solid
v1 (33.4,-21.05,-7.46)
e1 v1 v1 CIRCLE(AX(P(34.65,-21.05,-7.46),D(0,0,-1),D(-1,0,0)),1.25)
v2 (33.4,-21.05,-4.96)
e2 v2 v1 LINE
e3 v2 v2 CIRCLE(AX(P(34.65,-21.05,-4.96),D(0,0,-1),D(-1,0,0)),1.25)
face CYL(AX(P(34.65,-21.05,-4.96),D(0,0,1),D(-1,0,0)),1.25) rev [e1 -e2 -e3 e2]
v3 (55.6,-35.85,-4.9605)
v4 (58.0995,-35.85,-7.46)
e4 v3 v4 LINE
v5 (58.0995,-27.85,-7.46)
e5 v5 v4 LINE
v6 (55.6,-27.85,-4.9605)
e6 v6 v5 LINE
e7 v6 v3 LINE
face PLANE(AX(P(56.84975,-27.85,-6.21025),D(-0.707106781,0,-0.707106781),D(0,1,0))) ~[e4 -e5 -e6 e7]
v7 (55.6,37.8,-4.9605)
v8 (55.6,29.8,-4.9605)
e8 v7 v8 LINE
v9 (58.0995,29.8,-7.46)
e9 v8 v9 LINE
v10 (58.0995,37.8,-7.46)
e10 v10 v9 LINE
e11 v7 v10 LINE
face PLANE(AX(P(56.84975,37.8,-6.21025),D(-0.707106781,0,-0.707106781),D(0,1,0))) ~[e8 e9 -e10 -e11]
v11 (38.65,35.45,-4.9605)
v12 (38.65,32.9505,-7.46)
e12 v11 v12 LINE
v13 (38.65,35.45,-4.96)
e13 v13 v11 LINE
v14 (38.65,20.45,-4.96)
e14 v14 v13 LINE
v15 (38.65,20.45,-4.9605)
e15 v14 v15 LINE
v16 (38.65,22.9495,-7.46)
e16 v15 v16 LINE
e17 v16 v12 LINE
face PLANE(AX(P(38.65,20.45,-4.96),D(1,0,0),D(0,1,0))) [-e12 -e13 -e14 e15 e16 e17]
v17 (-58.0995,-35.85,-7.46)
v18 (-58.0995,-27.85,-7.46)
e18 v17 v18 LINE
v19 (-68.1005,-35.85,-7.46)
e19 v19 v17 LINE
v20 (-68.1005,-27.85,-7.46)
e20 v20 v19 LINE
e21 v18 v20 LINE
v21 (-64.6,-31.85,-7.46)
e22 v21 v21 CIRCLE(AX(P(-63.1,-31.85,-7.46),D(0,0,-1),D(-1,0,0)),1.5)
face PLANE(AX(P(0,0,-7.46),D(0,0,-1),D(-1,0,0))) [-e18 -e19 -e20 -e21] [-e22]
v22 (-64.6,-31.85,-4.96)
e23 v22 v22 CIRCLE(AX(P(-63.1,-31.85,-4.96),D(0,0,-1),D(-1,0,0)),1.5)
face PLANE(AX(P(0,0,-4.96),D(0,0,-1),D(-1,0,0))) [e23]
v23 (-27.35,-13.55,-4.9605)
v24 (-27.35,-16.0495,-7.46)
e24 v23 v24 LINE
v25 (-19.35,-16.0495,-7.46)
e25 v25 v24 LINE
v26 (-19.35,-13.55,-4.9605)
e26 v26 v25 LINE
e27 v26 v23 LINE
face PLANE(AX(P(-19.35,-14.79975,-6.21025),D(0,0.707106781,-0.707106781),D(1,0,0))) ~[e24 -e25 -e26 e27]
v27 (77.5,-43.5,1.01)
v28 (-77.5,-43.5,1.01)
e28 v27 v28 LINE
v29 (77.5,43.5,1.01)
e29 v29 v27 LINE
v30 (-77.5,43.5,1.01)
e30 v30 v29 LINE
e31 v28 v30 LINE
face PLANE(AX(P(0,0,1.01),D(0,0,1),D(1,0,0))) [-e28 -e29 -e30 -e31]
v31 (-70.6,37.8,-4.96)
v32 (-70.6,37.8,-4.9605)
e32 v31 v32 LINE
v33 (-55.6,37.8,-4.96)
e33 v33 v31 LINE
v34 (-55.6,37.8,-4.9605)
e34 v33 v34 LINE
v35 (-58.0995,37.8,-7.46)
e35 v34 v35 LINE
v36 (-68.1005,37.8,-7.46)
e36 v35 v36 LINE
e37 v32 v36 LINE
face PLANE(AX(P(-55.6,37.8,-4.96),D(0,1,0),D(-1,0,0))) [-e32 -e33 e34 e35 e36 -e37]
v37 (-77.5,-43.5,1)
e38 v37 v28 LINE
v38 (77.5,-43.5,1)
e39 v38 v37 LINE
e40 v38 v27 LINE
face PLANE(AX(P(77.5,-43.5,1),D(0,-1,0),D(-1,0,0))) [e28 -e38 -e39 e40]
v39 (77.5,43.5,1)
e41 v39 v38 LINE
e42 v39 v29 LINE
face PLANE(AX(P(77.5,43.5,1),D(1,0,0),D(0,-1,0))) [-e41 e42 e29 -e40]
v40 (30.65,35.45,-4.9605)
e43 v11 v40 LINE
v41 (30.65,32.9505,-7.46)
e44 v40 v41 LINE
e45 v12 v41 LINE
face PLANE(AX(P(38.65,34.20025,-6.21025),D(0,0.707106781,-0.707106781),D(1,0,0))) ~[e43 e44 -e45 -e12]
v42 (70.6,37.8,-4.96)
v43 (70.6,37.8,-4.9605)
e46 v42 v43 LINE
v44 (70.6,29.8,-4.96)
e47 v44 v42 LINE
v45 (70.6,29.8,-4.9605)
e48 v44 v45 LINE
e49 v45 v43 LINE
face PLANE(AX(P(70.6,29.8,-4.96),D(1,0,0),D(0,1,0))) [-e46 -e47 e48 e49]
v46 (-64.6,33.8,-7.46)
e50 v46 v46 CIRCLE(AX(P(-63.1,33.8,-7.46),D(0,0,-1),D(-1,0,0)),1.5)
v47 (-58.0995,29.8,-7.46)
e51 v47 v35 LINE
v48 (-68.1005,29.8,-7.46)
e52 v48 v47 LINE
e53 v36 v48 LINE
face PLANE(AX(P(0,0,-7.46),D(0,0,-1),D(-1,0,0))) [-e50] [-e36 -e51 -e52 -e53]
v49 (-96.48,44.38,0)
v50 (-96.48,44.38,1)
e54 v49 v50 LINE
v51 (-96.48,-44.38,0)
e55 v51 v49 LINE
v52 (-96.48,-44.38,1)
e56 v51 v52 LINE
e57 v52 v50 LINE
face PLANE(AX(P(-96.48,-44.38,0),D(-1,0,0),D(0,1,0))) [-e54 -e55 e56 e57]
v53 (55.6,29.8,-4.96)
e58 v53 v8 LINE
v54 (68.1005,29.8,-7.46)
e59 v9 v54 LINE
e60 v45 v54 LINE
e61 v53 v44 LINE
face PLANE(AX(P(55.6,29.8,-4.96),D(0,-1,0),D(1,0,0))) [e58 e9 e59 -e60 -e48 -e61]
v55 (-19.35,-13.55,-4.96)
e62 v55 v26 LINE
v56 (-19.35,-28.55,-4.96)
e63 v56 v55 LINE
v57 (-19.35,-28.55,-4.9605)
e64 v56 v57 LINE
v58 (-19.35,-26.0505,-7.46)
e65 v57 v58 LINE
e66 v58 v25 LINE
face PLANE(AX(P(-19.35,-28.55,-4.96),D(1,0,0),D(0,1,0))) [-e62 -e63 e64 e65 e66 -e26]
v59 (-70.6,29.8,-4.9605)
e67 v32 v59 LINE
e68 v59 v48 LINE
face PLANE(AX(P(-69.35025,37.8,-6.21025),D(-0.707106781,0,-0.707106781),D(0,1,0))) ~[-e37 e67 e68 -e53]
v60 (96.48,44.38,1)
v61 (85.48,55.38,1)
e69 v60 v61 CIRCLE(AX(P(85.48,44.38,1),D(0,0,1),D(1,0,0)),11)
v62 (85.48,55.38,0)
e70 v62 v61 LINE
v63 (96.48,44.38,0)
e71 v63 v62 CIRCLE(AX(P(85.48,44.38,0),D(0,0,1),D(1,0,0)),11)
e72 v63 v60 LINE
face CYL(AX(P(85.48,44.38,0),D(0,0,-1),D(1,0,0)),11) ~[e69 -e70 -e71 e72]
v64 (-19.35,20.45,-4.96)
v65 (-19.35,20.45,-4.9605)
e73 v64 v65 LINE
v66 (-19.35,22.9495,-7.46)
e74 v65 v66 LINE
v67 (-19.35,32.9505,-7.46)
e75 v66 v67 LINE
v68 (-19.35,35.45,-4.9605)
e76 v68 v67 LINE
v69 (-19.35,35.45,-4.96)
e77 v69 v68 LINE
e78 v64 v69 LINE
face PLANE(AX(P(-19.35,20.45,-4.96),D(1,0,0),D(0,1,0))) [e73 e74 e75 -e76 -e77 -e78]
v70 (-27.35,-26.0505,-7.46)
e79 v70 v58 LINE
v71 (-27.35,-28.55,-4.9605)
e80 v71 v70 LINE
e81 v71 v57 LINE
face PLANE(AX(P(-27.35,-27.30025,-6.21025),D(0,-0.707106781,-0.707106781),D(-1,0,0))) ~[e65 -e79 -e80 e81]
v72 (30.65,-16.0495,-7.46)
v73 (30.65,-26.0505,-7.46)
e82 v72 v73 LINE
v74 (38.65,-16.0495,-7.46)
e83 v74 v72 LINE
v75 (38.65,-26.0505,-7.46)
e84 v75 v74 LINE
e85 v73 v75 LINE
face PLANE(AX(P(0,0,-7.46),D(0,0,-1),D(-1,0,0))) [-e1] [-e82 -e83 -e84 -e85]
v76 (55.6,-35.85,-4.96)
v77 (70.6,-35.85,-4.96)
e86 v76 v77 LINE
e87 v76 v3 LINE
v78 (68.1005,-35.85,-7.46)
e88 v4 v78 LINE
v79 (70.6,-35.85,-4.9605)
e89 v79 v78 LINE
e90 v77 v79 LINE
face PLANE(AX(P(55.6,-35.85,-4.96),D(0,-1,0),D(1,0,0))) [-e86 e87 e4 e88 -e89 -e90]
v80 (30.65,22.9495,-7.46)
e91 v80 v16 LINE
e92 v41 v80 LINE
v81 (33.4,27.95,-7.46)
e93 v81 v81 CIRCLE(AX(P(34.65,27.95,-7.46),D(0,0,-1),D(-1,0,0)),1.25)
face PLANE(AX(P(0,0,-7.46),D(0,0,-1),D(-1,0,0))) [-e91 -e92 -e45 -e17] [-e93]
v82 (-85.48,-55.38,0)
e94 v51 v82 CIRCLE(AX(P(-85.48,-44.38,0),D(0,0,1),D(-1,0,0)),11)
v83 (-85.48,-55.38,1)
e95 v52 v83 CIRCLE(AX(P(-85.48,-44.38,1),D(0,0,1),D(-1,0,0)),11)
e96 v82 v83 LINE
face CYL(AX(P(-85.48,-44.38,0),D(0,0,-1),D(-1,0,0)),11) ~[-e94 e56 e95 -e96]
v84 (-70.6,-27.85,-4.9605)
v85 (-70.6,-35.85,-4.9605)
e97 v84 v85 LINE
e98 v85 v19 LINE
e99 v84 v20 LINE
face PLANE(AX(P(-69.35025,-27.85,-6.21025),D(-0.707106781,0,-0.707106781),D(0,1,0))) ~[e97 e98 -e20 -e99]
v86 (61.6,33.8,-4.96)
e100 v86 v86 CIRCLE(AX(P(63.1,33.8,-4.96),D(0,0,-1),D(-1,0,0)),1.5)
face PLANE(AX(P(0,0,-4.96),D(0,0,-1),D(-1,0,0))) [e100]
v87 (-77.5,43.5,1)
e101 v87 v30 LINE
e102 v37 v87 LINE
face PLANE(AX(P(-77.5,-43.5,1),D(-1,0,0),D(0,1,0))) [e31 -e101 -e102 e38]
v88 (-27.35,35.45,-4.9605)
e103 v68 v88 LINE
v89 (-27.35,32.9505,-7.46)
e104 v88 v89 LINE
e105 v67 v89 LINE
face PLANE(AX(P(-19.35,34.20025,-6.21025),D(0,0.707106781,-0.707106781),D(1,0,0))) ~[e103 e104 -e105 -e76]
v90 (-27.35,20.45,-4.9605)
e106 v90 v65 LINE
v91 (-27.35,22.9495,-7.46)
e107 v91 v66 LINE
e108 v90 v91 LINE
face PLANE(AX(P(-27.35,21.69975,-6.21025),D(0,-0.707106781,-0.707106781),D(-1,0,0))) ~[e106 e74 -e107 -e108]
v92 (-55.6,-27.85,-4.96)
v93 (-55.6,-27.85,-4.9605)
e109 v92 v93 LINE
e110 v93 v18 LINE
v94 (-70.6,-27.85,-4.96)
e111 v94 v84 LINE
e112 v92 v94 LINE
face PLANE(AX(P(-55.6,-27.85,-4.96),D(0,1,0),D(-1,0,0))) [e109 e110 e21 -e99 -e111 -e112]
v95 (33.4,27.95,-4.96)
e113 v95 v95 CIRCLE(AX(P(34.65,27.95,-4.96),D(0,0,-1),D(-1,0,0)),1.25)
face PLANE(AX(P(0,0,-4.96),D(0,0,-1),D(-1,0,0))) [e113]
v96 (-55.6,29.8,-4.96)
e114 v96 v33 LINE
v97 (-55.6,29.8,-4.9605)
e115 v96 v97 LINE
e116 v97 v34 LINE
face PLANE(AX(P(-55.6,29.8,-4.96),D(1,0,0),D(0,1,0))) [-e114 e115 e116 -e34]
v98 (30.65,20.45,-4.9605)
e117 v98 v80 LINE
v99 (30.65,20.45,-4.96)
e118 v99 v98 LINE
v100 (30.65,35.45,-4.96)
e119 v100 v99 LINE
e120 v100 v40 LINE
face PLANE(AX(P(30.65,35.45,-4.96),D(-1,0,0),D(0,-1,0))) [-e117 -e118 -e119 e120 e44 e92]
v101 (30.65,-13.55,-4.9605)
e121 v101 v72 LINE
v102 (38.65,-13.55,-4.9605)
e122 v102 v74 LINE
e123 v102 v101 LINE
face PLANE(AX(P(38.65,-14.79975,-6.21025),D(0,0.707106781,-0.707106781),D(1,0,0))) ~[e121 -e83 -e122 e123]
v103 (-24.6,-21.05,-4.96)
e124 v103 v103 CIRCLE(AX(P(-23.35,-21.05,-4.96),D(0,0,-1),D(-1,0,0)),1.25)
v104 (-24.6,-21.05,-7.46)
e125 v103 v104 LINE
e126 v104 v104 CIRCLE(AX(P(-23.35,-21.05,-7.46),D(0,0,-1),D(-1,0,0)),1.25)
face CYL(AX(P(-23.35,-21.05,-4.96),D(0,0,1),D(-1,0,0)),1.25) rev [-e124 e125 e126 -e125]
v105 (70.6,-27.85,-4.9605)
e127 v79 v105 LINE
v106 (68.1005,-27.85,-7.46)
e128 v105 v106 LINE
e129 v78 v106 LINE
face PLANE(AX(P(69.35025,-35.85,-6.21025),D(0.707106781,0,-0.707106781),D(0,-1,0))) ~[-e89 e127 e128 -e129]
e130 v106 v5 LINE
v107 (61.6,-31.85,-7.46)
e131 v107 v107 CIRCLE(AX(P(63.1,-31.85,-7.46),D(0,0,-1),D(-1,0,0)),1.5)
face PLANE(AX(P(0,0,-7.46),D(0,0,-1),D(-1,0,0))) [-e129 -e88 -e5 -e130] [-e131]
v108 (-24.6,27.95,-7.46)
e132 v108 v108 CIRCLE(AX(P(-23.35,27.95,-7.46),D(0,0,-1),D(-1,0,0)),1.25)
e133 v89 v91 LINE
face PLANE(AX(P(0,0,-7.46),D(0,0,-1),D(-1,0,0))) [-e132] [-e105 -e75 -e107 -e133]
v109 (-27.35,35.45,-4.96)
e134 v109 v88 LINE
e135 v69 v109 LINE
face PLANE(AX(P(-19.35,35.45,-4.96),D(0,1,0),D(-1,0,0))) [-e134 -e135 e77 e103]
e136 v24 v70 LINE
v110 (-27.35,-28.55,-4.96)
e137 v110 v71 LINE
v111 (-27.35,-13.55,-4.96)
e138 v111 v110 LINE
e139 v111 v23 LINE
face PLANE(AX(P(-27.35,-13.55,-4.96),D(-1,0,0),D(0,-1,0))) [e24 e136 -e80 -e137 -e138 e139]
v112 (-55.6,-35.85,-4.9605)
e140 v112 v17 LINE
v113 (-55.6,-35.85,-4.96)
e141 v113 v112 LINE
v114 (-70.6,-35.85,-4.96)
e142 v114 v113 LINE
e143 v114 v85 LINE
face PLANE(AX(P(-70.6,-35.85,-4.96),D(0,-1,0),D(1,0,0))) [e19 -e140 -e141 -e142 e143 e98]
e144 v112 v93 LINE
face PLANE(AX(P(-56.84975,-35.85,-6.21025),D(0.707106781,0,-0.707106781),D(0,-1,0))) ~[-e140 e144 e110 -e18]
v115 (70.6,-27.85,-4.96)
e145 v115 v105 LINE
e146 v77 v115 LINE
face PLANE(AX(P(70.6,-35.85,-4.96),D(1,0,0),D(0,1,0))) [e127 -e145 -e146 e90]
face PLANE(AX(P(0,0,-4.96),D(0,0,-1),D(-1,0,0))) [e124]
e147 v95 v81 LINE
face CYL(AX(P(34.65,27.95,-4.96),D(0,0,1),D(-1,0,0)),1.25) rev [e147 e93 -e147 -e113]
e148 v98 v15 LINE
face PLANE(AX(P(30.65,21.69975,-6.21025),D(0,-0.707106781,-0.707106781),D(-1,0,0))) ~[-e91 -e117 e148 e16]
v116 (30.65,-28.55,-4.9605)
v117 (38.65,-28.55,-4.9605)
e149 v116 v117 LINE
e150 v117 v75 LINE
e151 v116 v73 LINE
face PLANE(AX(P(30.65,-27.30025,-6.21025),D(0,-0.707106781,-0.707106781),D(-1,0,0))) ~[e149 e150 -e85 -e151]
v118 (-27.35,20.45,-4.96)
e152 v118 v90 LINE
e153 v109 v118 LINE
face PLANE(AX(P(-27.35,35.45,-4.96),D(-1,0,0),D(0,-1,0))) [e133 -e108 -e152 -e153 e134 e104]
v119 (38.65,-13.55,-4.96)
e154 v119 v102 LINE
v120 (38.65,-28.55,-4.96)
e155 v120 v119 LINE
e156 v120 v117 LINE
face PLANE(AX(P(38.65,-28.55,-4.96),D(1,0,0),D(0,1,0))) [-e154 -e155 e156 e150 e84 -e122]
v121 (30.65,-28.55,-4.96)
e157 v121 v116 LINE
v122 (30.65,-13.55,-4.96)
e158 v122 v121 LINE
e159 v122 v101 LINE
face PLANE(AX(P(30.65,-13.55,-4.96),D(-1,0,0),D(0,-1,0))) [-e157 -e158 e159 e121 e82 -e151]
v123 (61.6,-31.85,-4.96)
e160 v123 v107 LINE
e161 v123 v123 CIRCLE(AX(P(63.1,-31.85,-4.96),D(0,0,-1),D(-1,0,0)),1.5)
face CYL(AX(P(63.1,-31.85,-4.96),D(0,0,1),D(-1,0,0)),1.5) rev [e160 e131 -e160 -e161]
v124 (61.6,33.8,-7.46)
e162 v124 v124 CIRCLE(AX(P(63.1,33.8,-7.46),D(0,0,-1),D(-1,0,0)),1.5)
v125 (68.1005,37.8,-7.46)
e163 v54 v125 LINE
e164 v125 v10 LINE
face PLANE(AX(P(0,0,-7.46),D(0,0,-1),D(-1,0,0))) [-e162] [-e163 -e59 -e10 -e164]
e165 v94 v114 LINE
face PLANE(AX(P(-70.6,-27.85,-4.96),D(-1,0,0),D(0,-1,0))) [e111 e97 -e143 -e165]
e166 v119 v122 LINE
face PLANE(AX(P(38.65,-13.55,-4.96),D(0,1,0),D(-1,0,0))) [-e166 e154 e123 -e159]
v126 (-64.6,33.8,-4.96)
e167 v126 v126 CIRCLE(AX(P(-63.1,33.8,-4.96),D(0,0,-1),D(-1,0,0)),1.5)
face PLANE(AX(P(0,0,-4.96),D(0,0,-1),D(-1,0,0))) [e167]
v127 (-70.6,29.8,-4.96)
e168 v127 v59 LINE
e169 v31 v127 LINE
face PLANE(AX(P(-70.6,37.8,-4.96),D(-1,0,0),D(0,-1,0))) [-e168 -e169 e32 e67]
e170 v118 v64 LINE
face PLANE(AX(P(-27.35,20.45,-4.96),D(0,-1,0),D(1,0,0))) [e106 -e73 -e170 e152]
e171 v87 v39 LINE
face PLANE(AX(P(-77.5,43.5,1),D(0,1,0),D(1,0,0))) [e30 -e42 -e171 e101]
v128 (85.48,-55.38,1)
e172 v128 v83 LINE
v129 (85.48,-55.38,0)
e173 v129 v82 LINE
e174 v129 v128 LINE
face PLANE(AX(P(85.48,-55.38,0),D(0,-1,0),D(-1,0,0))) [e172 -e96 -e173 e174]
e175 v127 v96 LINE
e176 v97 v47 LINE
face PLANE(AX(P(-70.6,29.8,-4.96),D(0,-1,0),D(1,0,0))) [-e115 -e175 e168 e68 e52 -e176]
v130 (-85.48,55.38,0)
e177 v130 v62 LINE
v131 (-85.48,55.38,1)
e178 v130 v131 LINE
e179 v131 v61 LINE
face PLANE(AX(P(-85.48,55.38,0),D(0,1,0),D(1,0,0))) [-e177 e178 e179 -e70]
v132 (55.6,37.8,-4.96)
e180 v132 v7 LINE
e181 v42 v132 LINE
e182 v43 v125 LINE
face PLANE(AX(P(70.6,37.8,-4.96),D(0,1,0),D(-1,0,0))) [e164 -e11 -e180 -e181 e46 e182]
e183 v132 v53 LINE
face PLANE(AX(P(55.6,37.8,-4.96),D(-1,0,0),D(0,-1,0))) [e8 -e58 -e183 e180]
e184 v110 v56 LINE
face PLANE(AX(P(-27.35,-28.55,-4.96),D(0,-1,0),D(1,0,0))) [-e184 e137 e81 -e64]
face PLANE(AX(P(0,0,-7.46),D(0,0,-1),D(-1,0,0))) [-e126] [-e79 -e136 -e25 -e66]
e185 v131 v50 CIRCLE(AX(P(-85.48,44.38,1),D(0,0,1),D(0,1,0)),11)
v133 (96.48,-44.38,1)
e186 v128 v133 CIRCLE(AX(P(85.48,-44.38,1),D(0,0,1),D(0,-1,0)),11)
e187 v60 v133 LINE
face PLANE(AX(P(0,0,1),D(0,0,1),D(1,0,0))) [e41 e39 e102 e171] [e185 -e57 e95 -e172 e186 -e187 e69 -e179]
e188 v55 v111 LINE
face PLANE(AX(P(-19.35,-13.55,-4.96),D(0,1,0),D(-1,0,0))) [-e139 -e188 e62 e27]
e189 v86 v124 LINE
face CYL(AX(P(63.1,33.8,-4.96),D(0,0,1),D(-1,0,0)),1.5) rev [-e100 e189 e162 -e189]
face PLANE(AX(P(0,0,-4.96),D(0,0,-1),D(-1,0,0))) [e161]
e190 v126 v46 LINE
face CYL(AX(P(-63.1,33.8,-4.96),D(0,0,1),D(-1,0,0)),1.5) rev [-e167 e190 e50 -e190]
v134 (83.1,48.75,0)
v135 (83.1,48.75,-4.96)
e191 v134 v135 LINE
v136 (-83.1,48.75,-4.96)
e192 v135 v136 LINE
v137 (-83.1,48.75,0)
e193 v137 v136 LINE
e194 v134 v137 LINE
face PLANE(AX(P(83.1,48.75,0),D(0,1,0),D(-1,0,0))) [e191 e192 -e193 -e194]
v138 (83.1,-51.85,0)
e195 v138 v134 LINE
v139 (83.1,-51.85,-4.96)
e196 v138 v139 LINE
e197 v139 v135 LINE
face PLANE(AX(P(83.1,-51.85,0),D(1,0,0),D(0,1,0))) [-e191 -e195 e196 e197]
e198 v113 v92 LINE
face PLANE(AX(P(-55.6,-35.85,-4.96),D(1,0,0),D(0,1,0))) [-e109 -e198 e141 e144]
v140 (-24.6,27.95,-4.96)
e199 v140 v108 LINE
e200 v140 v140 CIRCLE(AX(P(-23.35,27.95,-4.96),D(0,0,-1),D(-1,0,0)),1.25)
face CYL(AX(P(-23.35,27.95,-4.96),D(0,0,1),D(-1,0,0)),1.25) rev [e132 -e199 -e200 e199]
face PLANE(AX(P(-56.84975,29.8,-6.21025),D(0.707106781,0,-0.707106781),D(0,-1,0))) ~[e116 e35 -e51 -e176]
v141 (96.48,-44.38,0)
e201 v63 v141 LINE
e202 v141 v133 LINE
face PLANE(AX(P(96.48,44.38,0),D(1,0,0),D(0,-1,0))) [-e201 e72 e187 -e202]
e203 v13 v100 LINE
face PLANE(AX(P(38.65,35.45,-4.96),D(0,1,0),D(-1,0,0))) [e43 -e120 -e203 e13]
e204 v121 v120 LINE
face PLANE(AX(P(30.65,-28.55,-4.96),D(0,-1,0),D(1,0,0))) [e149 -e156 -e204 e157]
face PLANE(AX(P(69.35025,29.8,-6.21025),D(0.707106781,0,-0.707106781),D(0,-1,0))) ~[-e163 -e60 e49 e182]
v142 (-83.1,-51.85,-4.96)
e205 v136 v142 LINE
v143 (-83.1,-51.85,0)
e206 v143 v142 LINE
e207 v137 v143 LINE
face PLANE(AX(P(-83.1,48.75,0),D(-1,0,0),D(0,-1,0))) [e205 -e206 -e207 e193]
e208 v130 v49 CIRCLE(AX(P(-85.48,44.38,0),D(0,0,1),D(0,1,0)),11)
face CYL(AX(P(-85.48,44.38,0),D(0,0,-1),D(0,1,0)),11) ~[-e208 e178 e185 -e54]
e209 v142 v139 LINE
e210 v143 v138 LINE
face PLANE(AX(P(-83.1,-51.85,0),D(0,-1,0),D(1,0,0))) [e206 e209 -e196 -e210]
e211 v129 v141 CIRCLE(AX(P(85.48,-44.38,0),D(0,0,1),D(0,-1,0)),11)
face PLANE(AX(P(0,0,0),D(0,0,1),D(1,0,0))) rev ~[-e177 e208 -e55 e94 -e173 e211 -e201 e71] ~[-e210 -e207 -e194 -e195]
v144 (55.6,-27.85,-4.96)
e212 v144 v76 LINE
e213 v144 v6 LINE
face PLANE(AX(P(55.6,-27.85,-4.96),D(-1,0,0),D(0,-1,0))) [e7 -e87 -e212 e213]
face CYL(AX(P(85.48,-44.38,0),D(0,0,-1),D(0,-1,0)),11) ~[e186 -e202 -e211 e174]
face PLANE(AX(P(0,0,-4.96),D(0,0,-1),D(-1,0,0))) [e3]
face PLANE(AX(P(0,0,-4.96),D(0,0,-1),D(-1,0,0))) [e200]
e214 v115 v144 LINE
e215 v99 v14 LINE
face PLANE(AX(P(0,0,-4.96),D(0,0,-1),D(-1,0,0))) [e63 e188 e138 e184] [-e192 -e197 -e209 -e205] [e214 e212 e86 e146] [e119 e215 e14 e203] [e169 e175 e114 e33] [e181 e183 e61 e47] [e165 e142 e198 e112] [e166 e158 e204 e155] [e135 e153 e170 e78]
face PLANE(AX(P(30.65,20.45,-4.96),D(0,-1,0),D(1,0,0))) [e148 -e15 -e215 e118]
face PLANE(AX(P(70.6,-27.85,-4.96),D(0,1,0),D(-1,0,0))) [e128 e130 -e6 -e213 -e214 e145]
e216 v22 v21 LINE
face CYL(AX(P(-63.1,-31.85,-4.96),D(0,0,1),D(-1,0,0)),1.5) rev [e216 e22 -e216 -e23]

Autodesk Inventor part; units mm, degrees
ref_plane "YZ Plane" through (0, 0, 0) normal (1, 0, 0) x (0, 1, 0)
ref_plane "XZ Plane" through (0, 0, 0) normal (0, 1, 0) x (-1, 0, 0)
ref_plane "XY Plane" through (0, 0, 0) normal (0, 0, 1) x (1, 0, 0)
sketch "Sketch1" plane through (0, 0, 0) normal (0, 0, 1) x (1, 0, 0)
  line L0 (-85.48, 55.38) -> (85.48, 55.38)
  line L1 (96.48, 44.38) -> (96.48, -44.38)
  line L2 (85.48, -55.38) -> (-85.48, -55.38)
  line L3 (-96.48, -44.38) -> (-96.48, 44.38)
  arc A0 (-85.48, 55.38) -> (-96.48, 44.38) centre (-85.48, 44.38) ccw
  arc A1 (96.48, 44.38) -> (85.48, 55.38) centre (85.48, 44.38) ccw
  arc A2 (85.48, -55.38) -> (96.48, -44.38) centre (85.48, -44.38) ccw
  arc A3 (-96.48, -44.38) -> (-85.48, -55.38) centre (-85.48, -44.38) ccw
  point P0 (0, 0)
  point P1 (-96.48, 55.38)
  point P2 (96.48, 55.38)
  point P3 (-96.48, -55.38)
  dimension "d0" = 192.96
  dimension "d1" = 110.76
  dimension "d2" = 96.48
  dimension "d3" = 55.38
  dimension "d6" = 11
extrude "Extrusion2" add sketch "Sketch1" along normal blind 1
sketch "Sketch3" plane through (0, 0, 0) normal (0, 0, -1) x (-1, 0, 0)
  line L0 (-83.1, 48.75) -> (83.1, 48.75)
  line L1 (83.1, 48.75) -> (83.1, -51.85)
  line L2 (83.1, -51.85) -> (-83.1, -51.85)
  line L3 (-83.1, -51.85) -> (-83.1, 48.75)
  line L4 (85.48, 55.38) -> (-85.48, 55.38) projected
  point P0 (0, 0)
  dimension "d9" = 166.2
  dimension "d10" = 100.6
  dimension "d12" = 83.1
  dimension "d13" = 6.63
extrude "Extrusion3" add sketch "Sketch3" along normal blind 4.96
sketch "Sketch4" plane through (0, 0, -4.96) normal (0, 0, -1) x (-1, 0, 0)
  line L0 (-70.6, 37.8) -> (-55.6, 37.8)
  line L1 (-55.6, 37.8) -> (-55.6, 29.8)
  line L2 (-55.6, 29.8) -> (-70.6, 29.8)
  line L3 (-70.6, 29.8) -> (-70.6, 37.8)
  circle A0 centre (-63.1, 33.8) radius 1.5
  line L4 (-83.1, 48.75) -> (-83.1, -51.85) projected
  line L5 (55.6, 37.8) -> (70.6, 37.8)
  circle A1 centre (63.1, 33.8) radius 1.5
  line L6 (55.6, 29.8) -> (55.6, 37.8)
  line L7 (70.6, 29.8) -> (55.6, 29.8)
  line L8 (70.6, 37.8) -> (70.6, 29.8)
  line L9 (-70.6, -27.85) -> (-55.6, -27.85)
  circle A2 centre (-63.1, -31.85) radius 1.5
  line L10 (-70.6, -35.85) -> (-70.6, -27.85)
  line L11 (-55.6, -35.85) -> (-70.6, -35.85)
  line L12 (-55.6, -27.85) -> (-55.6, -35.85)
  line L13 (55.6, -27.85) -> (70.6, -27.85)
  circle A3 centre (63.1, -31.85) radius 1.5
  line L14 (55.6, -35.85) -> (55.6, -27.85)
  line L15 (70.6, -35.85) -> (55.6, -35.85)
  line L16 (70.6, -27.85) -> (70.6, -35.85)
  line L17 (83.1, 48.75) -> (-83.1, 48.75) projected
  line L18 (-38.65, 20.45) -> (-38.65, 35.45)
  circle A4 centre (-34.65, 27.95) radius 1.25
  line L19 (-30.65, 20.45) -> (-38.65, 20.45)
  line L20 (-30.65, 35.45) -> (-30.65, 20.45)
  line L21 (-38.65, 35.45) -> (-30.65, 35.45)
  line L22 (83.1, -51.85) -> (83.1, 48.75) projected
  line L23 (85.48, 55.38) -> (-85.48, 55.38) projected
  line L24 (19.35, 20.45) -> (19.35, 35.45)
  line L25 (19.35, 35.45) -> (27.35, 35.45)
  line L26 (27.35, 35.45) -> (27.35, 20.45)
  line L27 (27.35, 20.45) -> (19.35, 20.45)
  circle A5 centre (23.35, 27.95) radius 1.25
  line L28 (-38.65, -28.55) -> (-38.65, -13.55)
  line L29 (-38.65, -13.55) -> (-30.65, -13.55)
  line L30 (-30.65, -13.55) -> (-30.65, -28.55)
  line L31 (-30.65, -28.55) -> (-38.65, -28.55)
  circle A6 centre (-34.65, -21.05) radius 1.25
  line L32 (19.35, -28.55) -> (19.35, -13.55)
  line L33 (19.35, -13.55) -> (27.35, -13.55)
  line L34 (27.35, -13.55) -> (27.35, -28.55)
  line L35 (27.35, -28.55) -> (19.35, -28.55)
  circle A7 centre (23.35, -21.05) radius 1.25
  point P0 (0, 0)
  point P1 (-55.6, 33.8)
  point P2 (-63.1, 37.8)
  point P3 (63.1, 37.8)
  point P4 (70.6, 33.8)
  point P5 (-63.1, -27.85)
  point P6 (-55.6, -31.85)
  point P7 (63.1, -27.85)
  point P8 (70.6, -31.85)
  point P9 (64.6875, 33.5375)
  point P10 (72.1875, 29.5375)
  point P11 (-38.65, 27.95)
  point P12 (-34.65, 35.45)
  point P13 (122.6875, 33.5375)
  point P14 (19.35, 27.95)
  point P15 (130.1875, 29.5375)
  point P16 (23.35, 35.45)
  point P17 (64.6875, -15.4625)
  point P18 (-38.65, -21.05)
  point P19 (72.1875, -19.4625)
  point P20 (-34.65, -13.55)
  point P21 (122.6875, -15.4625)
  point P22 (19.35, -21.05)
  point P23 (130.1875, -19.4625)
  point P24 (23.35, -13.55)
  dimension "d16" = 15
  dimension "d17" = 8
  dimension "d18" = 3
  dimension "d19" = 20
  dimension "d22" = 126.2
  dimension "d25" = 65.65
  dimension "d29" = 2.5
  dimension "d30" = 20.8
  dimension "d32" = 48.45
  dimension "d33" = 21.58
  dimension "d44" = 58
  dimension "d47" = 49
extrude "Extrusion4" add sketch "Sketch4" along normal blind 2.5
chamfer "Chamfer1" distance 2.5 angle 45 16 edges at (70.6, 33.8, -7.46) (55.6, 33.8, -7.46) (34.65, 35.45, -7.46) (34.65, 20.45, -7.46) (-23.35, 35.45, -7.46) (-23.35, 20.45, -7.46) (-55.6, 33.8, -7.46) (-70.6, 33.8, -7.46) (70.6, -31.85, -7.46) (55.6, -31.85, -7.46) (34.65, -13.55, -7.46) (34.65, -28.55, -7.46) (-23.35, -13.55, -7.46) (-23.35, -28.55, -7.46) (-55.6, -31.85, -7.46) (-70.6, -31.85, -7.46)
sketch "Sketch5" plane through (0, 0, 1) normal (0, 0, 1) x (1, 0, 0)
  line L0 (-77.5, 43.5) -> (77.5, 43.5)
  line L1 (77.5, 43.5) -> (77.5, -43.5)
  line L2 (77.5, -43.5) -> (-77.5, -43.5)
  line L3 (-77.5, -43.5) -> (-77.5, 43.5)
  point P0 (0, 0)
  dimension "d55" = 155
  dimension "d56" = 87
  dimension "d57" = 43.5
  dimension "d58" = 77.5
extrude "Extrusion5" add sketch "Sketch5" along normal blind 0.01
equation "\"d2\" = 0.5 * d0"
equation "\"d3\" = 0.5 * d1"
equation "\"d12\" = 0.5 * d9"
equation "\"d57\" = 0.5 * d56"
equation "\"d58\" = 0.5 * d55"
properties part number "Touchscreen"
